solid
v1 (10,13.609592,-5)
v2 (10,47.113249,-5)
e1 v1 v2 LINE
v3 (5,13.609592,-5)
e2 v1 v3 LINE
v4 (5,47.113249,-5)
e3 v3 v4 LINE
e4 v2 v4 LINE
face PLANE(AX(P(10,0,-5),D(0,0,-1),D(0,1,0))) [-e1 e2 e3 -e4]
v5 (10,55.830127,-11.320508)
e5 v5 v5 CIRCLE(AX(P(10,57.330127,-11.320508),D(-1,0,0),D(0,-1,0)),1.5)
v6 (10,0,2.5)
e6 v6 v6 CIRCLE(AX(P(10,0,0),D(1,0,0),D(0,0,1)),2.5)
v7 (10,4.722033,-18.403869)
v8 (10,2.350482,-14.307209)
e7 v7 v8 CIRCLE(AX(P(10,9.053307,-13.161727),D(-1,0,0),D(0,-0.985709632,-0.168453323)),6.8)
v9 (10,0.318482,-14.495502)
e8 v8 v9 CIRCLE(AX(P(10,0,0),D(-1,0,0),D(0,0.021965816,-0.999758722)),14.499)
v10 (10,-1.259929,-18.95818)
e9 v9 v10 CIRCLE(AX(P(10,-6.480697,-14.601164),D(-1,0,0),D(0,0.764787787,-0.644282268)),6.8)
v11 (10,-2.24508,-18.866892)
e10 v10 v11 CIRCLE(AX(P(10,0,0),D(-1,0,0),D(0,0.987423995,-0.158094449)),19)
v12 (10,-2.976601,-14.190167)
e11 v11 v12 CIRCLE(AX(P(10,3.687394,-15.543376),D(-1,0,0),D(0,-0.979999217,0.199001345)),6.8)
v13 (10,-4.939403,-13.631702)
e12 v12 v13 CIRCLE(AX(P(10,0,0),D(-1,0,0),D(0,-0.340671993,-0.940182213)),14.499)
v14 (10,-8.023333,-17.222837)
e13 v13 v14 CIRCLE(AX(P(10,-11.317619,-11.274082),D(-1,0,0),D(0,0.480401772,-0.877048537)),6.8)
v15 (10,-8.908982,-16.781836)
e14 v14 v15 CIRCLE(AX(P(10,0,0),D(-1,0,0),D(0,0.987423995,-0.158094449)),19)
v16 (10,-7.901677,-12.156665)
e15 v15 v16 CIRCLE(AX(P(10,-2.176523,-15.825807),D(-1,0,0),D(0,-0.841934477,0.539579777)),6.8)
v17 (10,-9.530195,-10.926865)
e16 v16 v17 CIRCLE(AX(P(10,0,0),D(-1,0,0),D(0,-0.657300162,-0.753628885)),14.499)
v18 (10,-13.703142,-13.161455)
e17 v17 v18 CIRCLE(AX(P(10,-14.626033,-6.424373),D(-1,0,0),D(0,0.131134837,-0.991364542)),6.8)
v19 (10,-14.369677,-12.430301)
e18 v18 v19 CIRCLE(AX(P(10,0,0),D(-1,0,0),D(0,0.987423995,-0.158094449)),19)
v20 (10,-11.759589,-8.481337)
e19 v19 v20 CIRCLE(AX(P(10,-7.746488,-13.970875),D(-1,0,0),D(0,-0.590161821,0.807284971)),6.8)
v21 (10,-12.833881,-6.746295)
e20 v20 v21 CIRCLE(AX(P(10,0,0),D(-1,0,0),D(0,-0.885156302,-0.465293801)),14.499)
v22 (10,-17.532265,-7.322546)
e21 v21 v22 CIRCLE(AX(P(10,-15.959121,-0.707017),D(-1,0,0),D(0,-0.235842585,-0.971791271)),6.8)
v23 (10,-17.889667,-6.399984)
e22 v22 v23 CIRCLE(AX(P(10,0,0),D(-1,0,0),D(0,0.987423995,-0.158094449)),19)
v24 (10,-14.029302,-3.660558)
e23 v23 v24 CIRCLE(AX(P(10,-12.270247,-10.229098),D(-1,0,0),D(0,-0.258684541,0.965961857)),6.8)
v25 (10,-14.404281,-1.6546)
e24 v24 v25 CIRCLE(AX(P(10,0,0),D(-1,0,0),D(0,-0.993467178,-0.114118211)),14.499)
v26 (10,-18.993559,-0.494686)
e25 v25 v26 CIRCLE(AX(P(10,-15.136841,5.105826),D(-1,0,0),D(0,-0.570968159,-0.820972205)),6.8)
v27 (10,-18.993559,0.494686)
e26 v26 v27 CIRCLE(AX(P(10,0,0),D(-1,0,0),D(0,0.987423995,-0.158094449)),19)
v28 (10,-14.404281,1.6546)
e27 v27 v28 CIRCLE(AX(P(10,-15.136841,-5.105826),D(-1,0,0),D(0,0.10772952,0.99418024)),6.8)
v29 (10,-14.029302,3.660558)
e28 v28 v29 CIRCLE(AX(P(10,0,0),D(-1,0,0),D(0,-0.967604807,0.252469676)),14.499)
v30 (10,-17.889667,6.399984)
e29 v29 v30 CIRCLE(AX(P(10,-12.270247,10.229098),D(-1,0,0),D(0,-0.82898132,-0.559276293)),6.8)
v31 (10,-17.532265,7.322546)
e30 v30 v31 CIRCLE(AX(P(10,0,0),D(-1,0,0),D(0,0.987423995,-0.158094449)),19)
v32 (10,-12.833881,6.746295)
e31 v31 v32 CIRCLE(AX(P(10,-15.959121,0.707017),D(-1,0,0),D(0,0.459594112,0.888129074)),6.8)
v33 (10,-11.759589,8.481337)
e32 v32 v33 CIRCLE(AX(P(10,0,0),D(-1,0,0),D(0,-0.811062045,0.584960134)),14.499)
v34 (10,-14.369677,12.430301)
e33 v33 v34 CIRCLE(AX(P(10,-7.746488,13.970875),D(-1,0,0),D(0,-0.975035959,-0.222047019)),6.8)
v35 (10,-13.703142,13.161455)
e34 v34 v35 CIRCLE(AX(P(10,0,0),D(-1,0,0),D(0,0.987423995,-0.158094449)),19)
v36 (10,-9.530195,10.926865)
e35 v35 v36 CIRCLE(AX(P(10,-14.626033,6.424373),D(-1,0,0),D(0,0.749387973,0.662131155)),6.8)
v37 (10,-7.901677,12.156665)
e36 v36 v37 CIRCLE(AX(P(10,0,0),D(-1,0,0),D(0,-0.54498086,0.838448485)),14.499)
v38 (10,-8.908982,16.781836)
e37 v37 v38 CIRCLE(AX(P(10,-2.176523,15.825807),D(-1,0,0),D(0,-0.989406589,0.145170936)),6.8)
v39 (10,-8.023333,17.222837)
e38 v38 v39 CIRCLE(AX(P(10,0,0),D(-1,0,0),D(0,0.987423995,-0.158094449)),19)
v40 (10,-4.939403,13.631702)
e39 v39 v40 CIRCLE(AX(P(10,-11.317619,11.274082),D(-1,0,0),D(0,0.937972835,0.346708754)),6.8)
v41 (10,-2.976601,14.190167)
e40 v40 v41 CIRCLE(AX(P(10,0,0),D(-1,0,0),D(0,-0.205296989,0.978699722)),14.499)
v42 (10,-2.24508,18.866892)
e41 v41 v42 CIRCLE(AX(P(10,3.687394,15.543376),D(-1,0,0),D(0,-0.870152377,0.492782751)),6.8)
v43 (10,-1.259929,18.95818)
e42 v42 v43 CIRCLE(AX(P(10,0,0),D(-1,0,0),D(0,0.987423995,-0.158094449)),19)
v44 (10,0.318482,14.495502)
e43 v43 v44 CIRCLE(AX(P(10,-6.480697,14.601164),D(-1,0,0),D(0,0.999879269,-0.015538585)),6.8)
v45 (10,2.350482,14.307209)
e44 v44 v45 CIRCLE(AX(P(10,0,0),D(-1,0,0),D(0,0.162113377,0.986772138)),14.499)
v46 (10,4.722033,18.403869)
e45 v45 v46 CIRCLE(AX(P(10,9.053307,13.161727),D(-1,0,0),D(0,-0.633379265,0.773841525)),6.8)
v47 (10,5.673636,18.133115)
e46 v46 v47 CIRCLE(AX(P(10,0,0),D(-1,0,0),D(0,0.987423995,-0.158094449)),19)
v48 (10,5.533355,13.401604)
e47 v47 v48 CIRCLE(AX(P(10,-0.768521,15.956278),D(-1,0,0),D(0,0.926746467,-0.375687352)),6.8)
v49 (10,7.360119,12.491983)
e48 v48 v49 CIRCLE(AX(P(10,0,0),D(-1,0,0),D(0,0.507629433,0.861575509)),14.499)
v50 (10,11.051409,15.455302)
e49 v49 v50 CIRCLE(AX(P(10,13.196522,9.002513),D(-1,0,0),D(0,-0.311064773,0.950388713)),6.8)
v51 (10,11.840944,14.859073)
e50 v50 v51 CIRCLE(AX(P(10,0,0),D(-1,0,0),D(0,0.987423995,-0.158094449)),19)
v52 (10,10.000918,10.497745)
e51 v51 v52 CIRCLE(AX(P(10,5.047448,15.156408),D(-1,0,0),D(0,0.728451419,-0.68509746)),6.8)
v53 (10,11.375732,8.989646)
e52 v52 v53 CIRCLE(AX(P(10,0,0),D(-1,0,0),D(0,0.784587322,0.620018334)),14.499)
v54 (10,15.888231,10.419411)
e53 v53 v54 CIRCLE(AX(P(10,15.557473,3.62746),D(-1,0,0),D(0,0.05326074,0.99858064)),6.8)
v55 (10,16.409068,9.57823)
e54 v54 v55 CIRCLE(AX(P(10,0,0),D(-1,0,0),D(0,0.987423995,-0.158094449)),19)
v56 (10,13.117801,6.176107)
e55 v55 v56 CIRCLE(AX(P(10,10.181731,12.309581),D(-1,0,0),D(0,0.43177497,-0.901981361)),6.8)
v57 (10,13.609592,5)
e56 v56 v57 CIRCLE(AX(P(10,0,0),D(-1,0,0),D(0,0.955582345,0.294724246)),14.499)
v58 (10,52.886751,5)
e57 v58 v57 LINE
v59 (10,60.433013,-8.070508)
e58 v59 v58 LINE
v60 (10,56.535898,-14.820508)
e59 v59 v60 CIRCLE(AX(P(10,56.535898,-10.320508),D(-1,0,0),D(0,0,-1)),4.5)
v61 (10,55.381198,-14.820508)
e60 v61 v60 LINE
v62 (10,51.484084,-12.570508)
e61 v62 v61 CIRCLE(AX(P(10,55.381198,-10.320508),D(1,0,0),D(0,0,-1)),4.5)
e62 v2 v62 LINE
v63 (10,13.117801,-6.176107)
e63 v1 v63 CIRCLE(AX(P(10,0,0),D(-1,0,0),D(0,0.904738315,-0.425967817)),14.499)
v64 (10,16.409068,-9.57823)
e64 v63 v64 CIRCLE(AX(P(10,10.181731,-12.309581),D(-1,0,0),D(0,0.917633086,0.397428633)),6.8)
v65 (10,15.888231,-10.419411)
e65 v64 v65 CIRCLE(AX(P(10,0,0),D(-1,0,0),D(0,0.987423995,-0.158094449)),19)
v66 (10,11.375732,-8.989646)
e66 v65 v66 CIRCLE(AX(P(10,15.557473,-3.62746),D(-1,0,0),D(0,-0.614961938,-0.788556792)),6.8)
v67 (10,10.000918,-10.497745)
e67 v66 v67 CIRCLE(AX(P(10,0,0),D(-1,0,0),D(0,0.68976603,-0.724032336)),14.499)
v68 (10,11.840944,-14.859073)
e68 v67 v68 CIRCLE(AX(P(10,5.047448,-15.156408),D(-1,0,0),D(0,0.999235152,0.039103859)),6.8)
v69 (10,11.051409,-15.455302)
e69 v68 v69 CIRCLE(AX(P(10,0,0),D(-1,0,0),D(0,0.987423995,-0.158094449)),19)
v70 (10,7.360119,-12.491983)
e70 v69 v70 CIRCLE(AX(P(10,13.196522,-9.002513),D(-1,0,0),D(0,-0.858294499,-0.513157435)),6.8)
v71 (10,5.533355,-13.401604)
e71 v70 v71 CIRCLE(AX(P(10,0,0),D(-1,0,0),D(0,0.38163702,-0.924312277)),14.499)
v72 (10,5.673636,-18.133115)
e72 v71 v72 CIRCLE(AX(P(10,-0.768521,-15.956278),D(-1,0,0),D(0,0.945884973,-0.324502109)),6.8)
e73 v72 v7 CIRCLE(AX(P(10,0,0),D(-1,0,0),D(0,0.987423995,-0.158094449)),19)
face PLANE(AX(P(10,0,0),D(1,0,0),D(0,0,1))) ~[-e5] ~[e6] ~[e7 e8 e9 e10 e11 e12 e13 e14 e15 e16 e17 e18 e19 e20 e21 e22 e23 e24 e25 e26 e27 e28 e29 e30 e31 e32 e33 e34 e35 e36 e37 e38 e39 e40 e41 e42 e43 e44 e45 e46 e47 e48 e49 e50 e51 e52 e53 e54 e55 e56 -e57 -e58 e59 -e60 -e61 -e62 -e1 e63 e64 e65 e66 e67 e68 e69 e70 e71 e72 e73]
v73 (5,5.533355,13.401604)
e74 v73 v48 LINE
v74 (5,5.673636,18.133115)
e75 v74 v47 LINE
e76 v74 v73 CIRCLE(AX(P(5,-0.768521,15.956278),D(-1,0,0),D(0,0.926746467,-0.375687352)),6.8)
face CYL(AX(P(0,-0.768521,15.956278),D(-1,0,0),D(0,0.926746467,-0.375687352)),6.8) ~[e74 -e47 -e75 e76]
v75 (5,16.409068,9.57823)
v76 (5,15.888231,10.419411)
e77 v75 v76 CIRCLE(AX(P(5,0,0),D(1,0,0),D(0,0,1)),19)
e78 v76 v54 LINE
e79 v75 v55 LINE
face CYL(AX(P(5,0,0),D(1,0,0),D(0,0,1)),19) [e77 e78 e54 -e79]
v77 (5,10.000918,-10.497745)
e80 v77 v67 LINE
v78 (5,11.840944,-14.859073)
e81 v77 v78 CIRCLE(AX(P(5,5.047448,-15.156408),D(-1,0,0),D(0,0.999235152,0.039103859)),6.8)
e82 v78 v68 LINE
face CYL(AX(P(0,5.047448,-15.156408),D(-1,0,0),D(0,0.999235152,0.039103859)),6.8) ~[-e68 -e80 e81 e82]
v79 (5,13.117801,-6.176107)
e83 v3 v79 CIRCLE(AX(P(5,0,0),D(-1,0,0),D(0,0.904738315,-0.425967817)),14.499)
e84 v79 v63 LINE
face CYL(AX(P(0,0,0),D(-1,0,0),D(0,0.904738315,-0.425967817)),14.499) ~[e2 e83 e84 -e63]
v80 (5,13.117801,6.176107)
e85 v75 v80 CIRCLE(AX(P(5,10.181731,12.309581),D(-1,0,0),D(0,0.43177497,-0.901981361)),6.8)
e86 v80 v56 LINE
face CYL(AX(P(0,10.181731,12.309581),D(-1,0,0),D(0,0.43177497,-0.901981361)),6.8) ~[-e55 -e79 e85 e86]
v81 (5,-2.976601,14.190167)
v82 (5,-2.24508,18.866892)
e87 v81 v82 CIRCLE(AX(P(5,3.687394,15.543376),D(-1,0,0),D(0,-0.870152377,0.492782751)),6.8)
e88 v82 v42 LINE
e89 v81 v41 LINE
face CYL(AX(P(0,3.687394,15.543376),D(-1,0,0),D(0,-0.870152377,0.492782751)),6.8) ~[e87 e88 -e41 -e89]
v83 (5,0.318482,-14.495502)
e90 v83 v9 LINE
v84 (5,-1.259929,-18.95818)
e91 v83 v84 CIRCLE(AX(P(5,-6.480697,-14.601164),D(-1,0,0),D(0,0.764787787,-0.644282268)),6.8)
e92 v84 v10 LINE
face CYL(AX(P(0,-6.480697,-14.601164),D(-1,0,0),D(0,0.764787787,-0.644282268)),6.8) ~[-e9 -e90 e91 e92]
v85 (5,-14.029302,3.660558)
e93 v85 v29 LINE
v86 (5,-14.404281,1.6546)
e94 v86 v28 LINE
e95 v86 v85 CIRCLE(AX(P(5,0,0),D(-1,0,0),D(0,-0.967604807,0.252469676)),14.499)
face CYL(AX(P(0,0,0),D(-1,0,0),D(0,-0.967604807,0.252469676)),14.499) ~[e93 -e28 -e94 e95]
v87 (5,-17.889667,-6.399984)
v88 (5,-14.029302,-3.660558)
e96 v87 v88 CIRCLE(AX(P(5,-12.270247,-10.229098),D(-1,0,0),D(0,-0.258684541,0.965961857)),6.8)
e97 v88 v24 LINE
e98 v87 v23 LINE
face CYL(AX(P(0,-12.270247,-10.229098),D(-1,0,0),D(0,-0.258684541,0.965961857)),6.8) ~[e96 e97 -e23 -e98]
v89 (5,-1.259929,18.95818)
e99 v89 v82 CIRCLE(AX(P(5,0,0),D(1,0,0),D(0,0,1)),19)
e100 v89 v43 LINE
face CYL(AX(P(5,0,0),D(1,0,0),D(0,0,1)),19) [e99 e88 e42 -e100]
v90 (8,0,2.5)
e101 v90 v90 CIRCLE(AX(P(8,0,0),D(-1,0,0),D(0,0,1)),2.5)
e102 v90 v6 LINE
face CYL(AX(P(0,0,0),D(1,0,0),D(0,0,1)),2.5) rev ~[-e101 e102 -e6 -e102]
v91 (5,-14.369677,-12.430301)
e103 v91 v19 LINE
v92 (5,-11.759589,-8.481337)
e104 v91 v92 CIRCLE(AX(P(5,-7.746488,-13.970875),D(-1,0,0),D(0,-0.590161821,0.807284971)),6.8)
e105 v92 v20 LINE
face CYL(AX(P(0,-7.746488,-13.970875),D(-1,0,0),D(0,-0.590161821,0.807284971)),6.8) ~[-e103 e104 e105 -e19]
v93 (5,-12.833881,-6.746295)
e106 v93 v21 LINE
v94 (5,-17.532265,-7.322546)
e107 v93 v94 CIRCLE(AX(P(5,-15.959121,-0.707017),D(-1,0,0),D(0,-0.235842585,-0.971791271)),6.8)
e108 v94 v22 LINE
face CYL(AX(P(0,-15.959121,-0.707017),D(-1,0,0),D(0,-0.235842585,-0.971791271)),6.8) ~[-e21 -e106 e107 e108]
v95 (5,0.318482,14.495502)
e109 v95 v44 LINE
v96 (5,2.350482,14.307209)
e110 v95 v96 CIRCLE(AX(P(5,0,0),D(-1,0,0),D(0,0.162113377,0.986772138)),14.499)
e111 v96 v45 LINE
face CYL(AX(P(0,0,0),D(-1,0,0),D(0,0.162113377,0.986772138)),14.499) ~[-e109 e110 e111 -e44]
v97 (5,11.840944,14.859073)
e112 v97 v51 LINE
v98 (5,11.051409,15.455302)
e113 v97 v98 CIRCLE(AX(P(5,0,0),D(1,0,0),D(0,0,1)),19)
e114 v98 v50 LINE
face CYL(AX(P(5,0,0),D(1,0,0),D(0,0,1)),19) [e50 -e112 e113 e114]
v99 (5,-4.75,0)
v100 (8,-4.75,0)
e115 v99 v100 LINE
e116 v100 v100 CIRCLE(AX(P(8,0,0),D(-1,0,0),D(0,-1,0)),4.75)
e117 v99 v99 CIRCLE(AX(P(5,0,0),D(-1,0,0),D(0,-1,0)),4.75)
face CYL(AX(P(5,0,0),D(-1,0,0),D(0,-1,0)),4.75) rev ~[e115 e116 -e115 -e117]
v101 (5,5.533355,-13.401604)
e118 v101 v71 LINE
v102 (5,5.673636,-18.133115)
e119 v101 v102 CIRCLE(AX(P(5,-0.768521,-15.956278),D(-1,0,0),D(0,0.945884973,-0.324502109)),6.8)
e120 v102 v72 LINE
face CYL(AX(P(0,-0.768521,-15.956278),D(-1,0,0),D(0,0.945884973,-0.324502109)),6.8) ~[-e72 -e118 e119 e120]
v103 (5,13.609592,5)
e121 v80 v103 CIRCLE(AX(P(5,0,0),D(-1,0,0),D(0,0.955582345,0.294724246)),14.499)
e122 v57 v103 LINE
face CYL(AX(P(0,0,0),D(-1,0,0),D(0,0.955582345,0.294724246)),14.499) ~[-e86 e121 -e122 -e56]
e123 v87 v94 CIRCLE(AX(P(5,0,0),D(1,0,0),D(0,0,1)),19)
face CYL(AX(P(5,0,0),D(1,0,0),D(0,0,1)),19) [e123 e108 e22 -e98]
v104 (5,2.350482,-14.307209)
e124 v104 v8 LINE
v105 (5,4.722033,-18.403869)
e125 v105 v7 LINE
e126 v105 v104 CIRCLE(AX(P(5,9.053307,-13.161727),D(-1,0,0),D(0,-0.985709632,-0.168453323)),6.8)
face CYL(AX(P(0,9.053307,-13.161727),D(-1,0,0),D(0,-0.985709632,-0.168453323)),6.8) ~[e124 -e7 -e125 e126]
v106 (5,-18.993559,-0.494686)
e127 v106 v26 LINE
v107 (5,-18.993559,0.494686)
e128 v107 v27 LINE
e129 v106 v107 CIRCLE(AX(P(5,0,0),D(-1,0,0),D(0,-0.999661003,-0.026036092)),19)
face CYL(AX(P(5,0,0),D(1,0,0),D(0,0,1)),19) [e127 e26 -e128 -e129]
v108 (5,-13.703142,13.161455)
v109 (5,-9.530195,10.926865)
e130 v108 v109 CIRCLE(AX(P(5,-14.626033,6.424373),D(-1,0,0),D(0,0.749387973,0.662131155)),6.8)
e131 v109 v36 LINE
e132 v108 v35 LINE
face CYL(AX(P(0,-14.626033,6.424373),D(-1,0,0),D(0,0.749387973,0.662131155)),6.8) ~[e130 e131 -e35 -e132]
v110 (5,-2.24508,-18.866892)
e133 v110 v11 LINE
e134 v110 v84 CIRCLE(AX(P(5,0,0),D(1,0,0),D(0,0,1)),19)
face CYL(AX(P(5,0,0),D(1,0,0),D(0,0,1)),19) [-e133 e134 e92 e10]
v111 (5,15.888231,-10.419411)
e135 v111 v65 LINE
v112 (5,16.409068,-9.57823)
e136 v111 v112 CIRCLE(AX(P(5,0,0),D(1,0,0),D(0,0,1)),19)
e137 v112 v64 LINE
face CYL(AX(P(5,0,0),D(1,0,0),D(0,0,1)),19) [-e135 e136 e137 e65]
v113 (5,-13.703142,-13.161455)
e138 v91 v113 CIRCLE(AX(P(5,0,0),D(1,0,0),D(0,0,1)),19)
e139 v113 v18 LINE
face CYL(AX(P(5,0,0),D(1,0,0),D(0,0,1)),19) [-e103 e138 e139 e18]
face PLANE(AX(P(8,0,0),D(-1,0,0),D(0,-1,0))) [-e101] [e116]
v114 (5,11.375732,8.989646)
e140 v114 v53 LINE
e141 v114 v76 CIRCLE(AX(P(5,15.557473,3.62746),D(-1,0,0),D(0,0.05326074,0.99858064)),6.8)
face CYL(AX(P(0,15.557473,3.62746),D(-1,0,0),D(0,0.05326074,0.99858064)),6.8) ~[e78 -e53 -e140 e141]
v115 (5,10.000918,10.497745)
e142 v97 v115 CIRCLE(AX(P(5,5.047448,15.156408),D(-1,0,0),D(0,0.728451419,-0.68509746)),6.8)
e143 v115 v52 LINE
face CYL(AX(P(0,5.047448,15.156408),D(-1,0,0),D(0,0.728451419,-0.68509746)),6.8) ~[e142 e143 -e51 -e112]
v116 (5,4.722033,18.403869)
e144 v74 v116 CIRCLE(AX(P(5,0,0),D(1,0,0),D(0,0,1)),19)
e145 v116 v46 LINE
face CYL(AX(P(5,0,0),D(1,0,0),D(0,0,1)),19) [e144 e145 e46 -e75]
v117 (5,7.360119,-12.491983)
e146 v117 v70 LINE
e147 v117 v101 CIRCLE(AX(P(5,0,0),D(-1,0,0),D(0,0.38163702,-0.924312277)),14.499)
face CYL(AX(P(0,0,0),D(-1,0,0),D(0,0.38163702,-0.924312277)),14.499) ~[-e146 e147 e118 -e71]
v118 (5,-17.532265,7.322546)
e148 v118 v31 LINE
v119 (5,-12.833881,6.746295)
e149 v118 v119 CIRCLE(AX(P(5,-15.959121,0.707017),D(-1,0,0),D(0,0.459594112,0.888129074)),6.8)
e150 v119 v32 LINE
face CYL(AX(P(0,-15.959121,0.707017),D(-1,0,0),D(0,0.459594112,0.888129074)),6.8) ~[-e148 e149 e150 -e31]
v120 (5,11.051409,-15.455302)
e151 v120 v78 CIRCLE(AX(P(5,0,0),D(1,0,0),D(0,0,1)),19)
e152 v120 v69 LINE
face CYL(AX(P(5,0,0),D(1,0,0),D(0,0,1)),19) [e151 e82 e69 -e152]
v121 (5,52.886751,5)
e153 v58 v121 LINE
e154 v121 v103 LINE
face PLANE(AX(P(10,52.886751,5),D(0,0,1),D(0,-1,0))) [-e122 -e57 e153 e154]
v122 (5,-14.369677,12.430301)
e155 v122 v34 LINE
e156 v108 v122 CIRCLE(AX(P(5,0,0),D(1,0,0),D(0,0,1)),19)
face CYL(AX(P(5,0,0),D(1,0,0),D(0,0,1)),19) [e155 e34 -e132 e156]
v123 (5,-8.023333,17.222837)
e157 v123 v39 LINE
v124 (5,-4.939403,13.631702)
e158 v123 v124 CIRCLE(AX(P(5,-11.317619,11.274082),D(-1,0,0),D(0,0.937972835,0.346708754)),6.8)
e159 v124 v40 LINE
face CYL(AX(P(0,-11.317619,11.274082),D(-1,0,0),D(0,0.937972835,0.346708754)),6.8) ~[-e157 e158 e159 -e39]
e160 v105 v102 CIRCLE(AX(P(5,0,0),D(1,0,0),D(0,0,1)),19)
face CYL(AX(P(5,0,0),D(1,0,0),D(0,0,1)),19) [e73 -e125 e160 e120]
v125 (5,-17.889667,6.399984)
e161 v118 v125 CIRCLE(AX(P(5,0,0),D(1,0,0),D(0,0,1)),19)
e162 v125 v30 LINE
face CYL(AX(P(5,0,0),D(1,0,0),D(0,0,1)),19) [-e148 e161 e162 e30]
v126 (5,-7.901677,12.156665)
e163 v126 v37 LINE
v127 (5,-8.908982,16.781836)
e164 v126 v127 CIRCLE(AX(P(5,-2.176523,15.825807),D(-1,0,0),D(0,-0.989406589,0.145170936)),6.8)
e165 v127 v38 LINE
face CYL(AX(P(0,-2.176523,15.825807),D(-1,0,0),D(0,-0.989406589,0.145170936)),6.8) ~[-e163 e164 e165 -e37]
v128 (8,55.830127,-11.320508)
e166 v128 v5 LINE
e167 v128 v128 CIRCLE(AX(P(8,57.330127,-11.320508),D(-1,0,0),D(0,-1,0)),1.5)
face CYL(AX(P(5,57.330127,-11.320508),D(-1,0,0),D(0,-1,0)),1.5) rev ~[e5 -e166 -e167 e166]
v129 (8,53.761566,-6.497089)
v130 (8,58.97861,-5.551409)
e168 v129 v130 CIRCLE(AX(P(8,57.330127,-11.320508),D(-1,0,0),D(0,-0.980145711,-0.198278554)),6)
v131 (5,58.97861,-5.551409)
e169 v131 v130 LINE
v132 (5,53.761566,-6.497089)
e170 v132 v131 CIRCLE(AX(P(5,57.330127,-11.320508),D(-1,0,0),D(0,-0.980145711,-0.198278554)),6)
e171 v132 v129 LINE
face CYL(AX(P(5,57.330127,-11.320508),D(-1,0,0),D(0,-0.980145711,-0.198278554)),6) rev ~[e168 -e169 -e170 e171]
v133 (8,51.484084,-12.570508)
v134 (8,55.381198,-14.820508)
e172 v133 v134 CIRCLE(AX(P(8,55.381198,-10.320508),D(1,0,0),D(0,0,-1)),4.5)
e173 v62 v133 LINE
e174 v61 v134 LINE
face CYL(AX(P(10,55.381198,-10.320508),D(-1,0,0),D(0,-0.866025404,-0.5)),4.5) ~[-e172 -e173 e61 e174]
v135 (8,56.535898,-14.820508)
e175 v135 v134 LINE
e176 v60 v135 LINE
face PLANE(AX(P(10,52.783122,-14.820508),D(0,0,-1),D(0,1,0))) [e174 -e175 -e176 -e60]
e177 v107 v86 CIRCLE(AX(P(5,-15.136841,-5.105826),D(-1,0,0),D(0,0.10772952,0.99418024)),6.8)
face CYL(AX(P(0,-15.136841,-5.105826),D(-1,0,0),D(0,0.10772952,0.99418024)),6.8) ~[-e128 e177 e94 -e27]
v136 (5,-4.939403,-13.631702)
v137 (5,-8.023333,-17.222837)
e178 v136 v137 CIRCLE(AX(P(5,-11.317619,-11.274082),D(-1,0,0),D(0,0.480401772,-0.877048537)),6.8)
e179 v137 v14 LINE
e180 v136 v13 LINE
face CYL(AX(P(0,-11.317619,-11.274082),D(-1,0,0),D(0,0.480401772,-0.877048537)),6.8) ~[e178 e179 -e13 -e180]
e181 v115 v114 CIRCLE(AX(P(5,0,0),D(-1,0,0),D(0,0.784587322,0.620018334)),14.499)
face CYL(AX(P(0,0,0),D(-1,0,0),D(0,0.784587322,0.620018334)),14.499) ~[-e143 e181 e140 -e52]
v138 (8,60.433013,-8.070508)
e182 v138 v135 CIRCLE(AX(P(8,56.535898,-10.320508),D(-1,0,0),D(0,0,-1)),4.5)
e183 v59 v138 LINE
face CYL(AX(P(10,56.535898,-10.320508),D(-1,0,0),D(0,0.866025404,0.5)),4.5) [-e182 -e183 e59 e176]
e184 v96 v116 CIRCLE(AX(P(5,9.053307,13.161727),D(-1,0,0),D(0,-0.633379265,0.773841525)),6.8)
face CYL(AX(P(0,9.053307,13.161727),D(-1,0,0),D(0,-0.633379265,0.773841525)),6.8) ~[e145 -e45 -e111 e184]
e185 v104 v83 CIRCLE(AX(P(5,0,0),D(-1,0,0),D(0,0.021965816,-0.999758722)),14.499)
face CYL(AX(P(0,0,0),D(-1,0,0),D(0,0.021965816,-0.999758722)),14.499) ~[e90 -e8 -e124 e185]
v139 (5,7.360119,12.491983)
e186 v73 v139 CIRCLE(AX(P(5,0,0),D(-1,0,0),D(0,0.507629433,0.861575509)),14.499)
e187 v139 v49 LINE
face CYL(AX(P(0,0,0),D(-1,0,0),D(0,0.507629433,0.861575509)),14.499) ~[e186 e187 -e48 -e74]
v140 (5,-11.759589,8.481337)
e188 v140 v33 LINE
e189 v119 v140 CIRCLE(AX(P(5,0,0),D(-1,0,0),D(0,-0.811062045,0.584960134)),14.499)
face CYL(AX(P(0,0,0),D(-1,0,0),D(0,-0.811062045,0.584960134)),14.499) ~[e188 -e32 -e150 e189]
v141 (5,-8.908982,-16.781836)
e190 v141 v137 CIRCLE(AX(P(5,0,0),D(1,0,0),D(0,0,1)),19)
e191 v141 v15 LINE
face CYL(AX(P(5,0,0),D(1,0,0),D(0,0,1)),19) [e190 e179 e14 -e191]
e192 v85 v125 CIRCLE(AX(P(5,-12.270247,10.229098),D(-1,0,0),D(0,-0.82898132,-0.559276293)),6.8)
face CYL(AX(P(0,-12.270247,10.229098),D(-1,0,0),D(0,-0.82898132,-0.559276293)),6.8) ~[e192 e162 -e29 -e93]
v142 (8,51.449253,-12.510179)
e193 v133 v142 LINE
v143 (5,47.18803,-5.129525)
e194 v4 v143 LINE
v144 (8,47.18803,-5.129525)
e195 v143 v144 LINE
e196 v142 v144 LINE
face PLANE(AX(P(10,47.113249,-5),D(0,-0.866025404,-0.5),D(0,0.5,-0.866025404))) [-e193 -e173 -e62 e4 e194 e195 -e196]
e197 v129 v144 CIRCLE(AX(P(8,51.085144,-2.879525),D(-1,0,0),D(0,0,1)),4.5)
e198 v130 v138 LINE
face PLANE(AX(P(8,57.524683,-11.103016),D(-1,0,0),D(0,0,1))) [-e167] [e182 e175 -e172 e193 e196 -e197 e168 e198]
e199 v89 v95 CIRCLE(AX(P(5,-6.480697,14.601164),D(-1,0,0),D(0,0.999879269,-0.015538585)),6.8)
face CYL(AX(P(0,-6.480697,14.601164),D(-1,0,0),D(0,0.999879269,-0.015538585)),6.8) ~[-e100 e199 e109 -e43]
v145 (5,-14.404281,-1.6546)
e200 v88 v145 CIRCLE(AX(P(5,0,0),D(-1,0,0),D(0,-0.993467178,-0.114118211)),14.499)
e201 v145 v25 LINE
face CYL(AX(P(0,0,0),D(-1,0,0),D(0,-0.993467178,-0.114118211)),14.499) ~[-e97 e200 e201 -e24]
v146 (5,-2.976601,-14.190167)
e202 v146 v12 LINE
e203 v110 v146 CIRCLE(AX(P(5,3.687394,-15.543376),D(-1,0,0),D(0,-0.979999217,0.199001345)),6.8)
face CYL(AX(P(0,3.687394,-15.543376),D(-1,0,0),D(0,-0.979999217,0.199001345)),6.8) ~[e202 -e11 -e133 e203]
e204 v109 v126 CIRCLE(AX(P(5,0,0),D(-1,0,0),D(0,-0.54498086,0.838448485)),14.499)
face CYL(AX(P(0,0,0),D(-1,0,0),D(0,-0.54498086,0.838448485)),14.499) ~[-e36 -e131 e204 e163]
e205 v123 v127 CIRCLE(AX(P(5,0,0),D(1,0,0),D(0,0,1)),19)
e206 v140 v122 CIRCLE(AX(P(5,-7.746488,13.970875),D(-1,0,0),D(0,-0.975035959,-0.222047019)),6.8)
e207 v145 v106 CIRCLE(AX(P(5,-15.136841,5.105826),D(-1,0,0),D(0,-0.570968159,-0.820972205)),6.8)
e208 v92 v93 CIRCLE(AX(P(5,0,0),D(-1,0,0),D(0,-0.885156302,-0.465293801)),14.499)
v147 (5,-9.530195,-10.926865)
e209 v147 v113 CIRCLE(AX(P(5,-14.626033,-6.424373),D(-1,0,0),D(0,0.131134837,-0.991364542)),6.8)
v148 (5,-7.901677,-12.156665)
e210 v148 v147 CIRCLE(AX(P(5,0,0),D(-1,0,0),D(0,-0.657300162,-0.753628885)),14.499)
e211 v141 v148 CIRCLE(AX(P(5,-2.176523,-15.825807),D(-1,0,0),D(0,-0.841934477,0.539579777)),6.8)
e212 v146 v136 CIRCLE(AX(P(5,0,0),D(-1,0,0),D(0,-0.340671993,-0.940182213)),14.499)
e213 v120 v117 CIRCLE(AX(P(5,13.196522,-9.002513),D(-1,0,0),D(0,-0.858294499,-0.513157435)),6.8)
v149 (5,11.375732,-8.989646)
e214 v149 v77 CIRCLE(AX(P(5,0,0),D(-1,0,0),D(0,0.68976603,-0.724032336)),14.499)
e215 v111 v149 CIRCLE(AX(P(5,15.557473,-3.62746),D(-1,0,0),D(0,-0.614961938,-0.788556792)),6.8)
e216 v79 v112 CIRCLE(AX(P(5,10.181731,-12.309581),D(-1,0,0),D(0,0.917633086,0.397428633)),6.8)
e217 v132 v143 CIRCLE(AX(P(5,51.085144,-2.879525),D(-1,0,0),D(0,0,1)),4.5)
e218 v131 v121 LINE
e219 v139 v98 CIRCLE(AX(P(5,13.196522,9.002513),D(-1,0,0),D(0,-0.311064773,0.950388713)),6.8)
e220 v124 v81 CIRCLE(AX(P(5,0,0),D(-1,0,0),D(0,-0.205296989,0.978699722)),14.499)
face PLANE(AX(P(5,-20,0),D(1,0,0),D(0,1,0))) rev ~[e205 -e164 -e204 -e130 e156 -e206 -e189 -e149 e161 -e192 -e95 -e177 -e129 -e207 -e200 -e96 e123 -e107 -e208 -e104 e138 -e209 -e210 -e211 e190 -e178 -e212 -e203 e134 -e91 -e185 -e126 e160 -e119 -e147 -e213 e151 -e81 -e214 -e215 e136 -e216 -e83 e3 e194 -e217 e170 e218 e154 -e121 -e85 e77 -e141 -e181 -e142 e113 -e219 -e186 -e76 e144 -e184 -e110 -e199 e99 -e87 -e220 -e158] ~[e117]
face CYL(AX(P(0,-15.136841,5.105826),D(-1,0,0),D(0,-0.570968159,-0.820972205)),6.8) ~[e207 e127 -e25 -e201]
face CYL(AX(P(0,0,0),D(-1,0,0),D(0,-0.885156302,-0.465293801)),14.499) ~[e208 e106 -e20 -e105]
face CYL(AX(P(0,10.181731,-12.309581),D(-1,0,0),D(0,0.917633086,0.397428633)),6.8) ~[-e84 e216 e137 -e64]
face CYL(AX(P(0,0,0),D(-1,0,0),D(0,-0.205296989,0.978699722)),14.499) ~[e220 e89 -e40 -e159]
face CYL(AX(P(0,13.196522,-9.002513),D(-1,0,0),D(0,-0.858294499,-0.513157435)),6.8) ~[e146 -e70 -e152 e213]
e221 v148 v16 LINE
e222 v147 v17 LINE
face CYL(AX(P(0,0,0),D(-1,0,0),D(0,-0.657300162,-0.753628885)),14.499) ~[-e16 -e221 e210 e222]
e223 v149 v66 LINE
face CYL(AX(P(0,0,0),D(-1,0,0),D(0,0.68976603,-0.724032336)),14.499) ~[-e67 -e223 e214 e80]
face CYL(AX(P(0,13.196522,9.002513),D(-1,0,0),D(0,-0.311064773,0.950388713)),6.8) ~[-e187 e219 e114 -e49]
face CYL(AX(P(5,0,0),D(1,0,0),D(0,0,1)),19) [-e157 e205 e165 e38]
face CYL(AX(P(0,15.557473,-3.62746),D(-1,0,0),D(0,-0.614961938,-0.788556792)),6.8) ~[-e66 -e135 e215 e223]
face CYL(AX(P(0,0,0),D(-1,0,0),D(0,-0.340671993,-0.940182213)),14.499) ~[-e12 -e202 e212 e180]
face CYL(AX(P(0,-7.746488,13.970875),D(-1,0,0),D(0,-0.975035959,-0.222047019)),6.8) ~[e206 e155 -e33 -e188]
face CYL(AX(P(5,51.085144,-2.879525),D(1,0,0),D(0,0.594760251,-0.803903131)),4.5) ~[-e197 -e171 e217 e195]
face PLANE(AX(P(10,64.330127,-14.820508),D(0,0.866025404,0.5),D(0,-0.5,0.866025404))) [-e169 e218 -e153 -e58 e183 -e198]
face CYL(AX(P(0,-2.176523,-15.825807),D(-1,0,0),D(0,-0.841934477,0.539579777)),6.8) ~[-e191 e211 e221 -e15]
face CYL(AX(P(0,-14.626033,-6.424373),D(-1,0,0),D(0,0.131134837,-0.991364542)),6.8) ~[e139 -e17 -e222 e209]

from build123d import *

# Parameters (mm, degrees)
BASPROSKE_W             = 10
BASPROSKE_H             = 19
TOOTHCUT_DEPTH          = 29.670542374
TEETHCUTS_COUNT         = 17
TEETHCUTS_ANGLE         = 338.823529412
BORSKE_R                = 2.5
BORE_DEPTH              = 50.0018796
CUT_EXTRUDE1_DEPTH      = 20
CUT_EXTRUDE1_DEPTH_BACK = 20
SKETCH1_W               = 10
SKETCH1_H               = 40
BOSS_EXTRUDE1_DEPTH     = 5
CUT_EXTRUDE2_START      = -3
SKETCH5_R               = 4.75
SKETCH5_R_2             = 2.5
CUT_EXTRUDE2_DEPTH      = 3
SKETCH6_R               = 1.5
CUT_EXTRUDE3_DEPTH      = 68.251600881
CUT_EXTRUDE4_DEPTH      = 3
FILLET1_R               = 4.5
FILLET2_R               = 4.5


with BuildPart() as part:
    # BasProSke → Base-Revolve (revolve)
    with BuildSketch(Plane(origin=(0, 0, 0), x_dir=(1, 0, 0), z_dir=(0, 1, 0))):
        with Locations((5, 9.5)):
            Rectangle(BASPROSKE_W, BASPROSKE_H)
    revolve(axis=Axis((-10, 0, 0), (1, 0, 0)))

    # TooCutSke → ToothCut (cut, through all)
    with BuildSketch(Plane(origin=(0, 0, 0), x_dir=(0, 0, -1), z_dir=(1, 0, 0))):
        with BuildLine():
            ThreePointArc((1.020352389, 14.463052306), (0, 14.499), (-1.020352389, 14.463052306))
            ThreePointArc((-1.020352389, 14.463052306), (-1.632621885, 16.804485203), (-3.026143023, 18.783192049))
            ThreePointArc((-3.026143023, 18.783192049), (0, 19.0254), (3.026143023, 18.783192049))
            ThreePointArc((3.026143023, 18.783192049), (1.632621885, 16.804485203), (1.020352389, 14.463052306))
        make_face()
    toothcut = extrude(amount=TOOTHCUT_DEPTH, mode=Mode.SUBTRACT)

    # TeethCuts: ToothCut ×17 about axis
    teethcuts_axis = Axis((-10, 0, 0), (1, 0, 0))
    for i in range(1, TEETHCUTS_COUNT):
        add(toothcut.rotate(teethcuts_axis, i * TEETHCUTS_ANGLE / (TEETHCUTS_COUNT - 1)), mode=Mode.SUBTRACT)

    # BorSke → Bore (cut, symmetric)
    with BuildSketch(Plane(origin=(0, 0, 0), x_dir=(0, 0, -1), z_dir=(1, 0, 0))):
        Circle(BORSKE_R)
    extrude(amount=BORE_DEPTH, both=True, mode=Mode.SUBTRACT)

    # Sketch1 → Cut-Extrude1 (cut, two sides: drawn at the far end of the back side and taken through both)
    with BuildSketch(Plane.XY.offset(-CUT_EXTRUDE1_DEPTH_BACK)):
        Rectangle(SKETCH1_W, SKETCH1_H)
    extrude(amount=CUT_EXTRUDE1_DEPTH + CUT_EXTRUDE1_DEPTH_BACK, mode=Mode.SUBTRACT)

    # Sketch4 → Boss-Extrude1 (add)
    with BuildSketch(Plane(origin=(10, 0, 0), x_dir=(0, 0, -1), z_dir=(1, 0, 0))):
        with BuildLine():
            Line((5, 0), (5, 47.113248654))
            Line((5, 47.113248654), (14.820508076, 52.783121635))
            Line((14.820508076, 52.783121635), (14.820508076, 64.330127019))
            Line((14.820508076, 64.330127019), (-5, 52.886751346))
            Line((-5, 52.886751346), (-5, 0))
            Line((-5, 0), (-2.5, 0))
            ThreePointArc((-2.5, 0), (0, 2.5), (2.5, 0))
            Line((2.5, 0), (5, 0))
        make_face()
    extrude(amount=-BOSS_EXTRUDE1_DEPTH)

    # Sketch5 → Cut-Extrude2 (cut)
    with BuildSketch(Plane.ZY.offset(-5).offset(CUT_EXTRUDE2_START)):
        Circle(SKETCH5_R)
        Circle(SKETCH5_R_2, mode=Mode.SUBTRACT)
    extrude(amount=CUT_EXTRUDE2_DEPTH, mode=Mode.SUBTRACT)

    # Sketch6 → Cut-Extrude3 (cut, through all)
    with BuildSketch(Plane.ZY.offset(-5)):
        with Locations((-11.320508076, 57.330127019)):
            Circle(SKETCH6_R)
    extrude(amount=-CUT_EXTRUDE3_DEPTH, mode=Mode.SUBTRACT)

    # Sketch7 → Cut-Extrude4 (cut)
    with BuildSketch(Plane.ZY.offset(-5)):
        with BuildLine():
            Line((-21.855234833, 56.484151118), (-14.320508076, 52.133974596))
            ThreePointArc((-14.320508076, 52.133974596), (-6.124355653, 54.330127019), (-8.320508076, 62.526279442))
            Line((-8.320508076, 62.526279442), (-15.855234833, 66.876455963))
            Line((-15.855234833, 66.876455963), (-21.855234833, 56.484151118))
        make_face()
    extrude(amount=-CUT_EXTRUDE4_DEPTH, mode=Mode.SUBTRACT)

    # Fillet1
    fillet1_edges = [part.edges().sort_by_distance(p)[0] for p in [
        (9, 52.783121635, -14.820508076),
        (9, 64.330127019, -14.820508076),
    ]]
    fillet(fillet1_edges, radius=FILLET1_R)

    # Fillet2
    fillet2_edges = [part.edges().sort_by_distance(p)[0] for p in [
        (6.5, 51.449252752, -12.5101794),
    ]]
    fillet(fillet2_edges, radius=FILLET2_R)


solid = part.part
